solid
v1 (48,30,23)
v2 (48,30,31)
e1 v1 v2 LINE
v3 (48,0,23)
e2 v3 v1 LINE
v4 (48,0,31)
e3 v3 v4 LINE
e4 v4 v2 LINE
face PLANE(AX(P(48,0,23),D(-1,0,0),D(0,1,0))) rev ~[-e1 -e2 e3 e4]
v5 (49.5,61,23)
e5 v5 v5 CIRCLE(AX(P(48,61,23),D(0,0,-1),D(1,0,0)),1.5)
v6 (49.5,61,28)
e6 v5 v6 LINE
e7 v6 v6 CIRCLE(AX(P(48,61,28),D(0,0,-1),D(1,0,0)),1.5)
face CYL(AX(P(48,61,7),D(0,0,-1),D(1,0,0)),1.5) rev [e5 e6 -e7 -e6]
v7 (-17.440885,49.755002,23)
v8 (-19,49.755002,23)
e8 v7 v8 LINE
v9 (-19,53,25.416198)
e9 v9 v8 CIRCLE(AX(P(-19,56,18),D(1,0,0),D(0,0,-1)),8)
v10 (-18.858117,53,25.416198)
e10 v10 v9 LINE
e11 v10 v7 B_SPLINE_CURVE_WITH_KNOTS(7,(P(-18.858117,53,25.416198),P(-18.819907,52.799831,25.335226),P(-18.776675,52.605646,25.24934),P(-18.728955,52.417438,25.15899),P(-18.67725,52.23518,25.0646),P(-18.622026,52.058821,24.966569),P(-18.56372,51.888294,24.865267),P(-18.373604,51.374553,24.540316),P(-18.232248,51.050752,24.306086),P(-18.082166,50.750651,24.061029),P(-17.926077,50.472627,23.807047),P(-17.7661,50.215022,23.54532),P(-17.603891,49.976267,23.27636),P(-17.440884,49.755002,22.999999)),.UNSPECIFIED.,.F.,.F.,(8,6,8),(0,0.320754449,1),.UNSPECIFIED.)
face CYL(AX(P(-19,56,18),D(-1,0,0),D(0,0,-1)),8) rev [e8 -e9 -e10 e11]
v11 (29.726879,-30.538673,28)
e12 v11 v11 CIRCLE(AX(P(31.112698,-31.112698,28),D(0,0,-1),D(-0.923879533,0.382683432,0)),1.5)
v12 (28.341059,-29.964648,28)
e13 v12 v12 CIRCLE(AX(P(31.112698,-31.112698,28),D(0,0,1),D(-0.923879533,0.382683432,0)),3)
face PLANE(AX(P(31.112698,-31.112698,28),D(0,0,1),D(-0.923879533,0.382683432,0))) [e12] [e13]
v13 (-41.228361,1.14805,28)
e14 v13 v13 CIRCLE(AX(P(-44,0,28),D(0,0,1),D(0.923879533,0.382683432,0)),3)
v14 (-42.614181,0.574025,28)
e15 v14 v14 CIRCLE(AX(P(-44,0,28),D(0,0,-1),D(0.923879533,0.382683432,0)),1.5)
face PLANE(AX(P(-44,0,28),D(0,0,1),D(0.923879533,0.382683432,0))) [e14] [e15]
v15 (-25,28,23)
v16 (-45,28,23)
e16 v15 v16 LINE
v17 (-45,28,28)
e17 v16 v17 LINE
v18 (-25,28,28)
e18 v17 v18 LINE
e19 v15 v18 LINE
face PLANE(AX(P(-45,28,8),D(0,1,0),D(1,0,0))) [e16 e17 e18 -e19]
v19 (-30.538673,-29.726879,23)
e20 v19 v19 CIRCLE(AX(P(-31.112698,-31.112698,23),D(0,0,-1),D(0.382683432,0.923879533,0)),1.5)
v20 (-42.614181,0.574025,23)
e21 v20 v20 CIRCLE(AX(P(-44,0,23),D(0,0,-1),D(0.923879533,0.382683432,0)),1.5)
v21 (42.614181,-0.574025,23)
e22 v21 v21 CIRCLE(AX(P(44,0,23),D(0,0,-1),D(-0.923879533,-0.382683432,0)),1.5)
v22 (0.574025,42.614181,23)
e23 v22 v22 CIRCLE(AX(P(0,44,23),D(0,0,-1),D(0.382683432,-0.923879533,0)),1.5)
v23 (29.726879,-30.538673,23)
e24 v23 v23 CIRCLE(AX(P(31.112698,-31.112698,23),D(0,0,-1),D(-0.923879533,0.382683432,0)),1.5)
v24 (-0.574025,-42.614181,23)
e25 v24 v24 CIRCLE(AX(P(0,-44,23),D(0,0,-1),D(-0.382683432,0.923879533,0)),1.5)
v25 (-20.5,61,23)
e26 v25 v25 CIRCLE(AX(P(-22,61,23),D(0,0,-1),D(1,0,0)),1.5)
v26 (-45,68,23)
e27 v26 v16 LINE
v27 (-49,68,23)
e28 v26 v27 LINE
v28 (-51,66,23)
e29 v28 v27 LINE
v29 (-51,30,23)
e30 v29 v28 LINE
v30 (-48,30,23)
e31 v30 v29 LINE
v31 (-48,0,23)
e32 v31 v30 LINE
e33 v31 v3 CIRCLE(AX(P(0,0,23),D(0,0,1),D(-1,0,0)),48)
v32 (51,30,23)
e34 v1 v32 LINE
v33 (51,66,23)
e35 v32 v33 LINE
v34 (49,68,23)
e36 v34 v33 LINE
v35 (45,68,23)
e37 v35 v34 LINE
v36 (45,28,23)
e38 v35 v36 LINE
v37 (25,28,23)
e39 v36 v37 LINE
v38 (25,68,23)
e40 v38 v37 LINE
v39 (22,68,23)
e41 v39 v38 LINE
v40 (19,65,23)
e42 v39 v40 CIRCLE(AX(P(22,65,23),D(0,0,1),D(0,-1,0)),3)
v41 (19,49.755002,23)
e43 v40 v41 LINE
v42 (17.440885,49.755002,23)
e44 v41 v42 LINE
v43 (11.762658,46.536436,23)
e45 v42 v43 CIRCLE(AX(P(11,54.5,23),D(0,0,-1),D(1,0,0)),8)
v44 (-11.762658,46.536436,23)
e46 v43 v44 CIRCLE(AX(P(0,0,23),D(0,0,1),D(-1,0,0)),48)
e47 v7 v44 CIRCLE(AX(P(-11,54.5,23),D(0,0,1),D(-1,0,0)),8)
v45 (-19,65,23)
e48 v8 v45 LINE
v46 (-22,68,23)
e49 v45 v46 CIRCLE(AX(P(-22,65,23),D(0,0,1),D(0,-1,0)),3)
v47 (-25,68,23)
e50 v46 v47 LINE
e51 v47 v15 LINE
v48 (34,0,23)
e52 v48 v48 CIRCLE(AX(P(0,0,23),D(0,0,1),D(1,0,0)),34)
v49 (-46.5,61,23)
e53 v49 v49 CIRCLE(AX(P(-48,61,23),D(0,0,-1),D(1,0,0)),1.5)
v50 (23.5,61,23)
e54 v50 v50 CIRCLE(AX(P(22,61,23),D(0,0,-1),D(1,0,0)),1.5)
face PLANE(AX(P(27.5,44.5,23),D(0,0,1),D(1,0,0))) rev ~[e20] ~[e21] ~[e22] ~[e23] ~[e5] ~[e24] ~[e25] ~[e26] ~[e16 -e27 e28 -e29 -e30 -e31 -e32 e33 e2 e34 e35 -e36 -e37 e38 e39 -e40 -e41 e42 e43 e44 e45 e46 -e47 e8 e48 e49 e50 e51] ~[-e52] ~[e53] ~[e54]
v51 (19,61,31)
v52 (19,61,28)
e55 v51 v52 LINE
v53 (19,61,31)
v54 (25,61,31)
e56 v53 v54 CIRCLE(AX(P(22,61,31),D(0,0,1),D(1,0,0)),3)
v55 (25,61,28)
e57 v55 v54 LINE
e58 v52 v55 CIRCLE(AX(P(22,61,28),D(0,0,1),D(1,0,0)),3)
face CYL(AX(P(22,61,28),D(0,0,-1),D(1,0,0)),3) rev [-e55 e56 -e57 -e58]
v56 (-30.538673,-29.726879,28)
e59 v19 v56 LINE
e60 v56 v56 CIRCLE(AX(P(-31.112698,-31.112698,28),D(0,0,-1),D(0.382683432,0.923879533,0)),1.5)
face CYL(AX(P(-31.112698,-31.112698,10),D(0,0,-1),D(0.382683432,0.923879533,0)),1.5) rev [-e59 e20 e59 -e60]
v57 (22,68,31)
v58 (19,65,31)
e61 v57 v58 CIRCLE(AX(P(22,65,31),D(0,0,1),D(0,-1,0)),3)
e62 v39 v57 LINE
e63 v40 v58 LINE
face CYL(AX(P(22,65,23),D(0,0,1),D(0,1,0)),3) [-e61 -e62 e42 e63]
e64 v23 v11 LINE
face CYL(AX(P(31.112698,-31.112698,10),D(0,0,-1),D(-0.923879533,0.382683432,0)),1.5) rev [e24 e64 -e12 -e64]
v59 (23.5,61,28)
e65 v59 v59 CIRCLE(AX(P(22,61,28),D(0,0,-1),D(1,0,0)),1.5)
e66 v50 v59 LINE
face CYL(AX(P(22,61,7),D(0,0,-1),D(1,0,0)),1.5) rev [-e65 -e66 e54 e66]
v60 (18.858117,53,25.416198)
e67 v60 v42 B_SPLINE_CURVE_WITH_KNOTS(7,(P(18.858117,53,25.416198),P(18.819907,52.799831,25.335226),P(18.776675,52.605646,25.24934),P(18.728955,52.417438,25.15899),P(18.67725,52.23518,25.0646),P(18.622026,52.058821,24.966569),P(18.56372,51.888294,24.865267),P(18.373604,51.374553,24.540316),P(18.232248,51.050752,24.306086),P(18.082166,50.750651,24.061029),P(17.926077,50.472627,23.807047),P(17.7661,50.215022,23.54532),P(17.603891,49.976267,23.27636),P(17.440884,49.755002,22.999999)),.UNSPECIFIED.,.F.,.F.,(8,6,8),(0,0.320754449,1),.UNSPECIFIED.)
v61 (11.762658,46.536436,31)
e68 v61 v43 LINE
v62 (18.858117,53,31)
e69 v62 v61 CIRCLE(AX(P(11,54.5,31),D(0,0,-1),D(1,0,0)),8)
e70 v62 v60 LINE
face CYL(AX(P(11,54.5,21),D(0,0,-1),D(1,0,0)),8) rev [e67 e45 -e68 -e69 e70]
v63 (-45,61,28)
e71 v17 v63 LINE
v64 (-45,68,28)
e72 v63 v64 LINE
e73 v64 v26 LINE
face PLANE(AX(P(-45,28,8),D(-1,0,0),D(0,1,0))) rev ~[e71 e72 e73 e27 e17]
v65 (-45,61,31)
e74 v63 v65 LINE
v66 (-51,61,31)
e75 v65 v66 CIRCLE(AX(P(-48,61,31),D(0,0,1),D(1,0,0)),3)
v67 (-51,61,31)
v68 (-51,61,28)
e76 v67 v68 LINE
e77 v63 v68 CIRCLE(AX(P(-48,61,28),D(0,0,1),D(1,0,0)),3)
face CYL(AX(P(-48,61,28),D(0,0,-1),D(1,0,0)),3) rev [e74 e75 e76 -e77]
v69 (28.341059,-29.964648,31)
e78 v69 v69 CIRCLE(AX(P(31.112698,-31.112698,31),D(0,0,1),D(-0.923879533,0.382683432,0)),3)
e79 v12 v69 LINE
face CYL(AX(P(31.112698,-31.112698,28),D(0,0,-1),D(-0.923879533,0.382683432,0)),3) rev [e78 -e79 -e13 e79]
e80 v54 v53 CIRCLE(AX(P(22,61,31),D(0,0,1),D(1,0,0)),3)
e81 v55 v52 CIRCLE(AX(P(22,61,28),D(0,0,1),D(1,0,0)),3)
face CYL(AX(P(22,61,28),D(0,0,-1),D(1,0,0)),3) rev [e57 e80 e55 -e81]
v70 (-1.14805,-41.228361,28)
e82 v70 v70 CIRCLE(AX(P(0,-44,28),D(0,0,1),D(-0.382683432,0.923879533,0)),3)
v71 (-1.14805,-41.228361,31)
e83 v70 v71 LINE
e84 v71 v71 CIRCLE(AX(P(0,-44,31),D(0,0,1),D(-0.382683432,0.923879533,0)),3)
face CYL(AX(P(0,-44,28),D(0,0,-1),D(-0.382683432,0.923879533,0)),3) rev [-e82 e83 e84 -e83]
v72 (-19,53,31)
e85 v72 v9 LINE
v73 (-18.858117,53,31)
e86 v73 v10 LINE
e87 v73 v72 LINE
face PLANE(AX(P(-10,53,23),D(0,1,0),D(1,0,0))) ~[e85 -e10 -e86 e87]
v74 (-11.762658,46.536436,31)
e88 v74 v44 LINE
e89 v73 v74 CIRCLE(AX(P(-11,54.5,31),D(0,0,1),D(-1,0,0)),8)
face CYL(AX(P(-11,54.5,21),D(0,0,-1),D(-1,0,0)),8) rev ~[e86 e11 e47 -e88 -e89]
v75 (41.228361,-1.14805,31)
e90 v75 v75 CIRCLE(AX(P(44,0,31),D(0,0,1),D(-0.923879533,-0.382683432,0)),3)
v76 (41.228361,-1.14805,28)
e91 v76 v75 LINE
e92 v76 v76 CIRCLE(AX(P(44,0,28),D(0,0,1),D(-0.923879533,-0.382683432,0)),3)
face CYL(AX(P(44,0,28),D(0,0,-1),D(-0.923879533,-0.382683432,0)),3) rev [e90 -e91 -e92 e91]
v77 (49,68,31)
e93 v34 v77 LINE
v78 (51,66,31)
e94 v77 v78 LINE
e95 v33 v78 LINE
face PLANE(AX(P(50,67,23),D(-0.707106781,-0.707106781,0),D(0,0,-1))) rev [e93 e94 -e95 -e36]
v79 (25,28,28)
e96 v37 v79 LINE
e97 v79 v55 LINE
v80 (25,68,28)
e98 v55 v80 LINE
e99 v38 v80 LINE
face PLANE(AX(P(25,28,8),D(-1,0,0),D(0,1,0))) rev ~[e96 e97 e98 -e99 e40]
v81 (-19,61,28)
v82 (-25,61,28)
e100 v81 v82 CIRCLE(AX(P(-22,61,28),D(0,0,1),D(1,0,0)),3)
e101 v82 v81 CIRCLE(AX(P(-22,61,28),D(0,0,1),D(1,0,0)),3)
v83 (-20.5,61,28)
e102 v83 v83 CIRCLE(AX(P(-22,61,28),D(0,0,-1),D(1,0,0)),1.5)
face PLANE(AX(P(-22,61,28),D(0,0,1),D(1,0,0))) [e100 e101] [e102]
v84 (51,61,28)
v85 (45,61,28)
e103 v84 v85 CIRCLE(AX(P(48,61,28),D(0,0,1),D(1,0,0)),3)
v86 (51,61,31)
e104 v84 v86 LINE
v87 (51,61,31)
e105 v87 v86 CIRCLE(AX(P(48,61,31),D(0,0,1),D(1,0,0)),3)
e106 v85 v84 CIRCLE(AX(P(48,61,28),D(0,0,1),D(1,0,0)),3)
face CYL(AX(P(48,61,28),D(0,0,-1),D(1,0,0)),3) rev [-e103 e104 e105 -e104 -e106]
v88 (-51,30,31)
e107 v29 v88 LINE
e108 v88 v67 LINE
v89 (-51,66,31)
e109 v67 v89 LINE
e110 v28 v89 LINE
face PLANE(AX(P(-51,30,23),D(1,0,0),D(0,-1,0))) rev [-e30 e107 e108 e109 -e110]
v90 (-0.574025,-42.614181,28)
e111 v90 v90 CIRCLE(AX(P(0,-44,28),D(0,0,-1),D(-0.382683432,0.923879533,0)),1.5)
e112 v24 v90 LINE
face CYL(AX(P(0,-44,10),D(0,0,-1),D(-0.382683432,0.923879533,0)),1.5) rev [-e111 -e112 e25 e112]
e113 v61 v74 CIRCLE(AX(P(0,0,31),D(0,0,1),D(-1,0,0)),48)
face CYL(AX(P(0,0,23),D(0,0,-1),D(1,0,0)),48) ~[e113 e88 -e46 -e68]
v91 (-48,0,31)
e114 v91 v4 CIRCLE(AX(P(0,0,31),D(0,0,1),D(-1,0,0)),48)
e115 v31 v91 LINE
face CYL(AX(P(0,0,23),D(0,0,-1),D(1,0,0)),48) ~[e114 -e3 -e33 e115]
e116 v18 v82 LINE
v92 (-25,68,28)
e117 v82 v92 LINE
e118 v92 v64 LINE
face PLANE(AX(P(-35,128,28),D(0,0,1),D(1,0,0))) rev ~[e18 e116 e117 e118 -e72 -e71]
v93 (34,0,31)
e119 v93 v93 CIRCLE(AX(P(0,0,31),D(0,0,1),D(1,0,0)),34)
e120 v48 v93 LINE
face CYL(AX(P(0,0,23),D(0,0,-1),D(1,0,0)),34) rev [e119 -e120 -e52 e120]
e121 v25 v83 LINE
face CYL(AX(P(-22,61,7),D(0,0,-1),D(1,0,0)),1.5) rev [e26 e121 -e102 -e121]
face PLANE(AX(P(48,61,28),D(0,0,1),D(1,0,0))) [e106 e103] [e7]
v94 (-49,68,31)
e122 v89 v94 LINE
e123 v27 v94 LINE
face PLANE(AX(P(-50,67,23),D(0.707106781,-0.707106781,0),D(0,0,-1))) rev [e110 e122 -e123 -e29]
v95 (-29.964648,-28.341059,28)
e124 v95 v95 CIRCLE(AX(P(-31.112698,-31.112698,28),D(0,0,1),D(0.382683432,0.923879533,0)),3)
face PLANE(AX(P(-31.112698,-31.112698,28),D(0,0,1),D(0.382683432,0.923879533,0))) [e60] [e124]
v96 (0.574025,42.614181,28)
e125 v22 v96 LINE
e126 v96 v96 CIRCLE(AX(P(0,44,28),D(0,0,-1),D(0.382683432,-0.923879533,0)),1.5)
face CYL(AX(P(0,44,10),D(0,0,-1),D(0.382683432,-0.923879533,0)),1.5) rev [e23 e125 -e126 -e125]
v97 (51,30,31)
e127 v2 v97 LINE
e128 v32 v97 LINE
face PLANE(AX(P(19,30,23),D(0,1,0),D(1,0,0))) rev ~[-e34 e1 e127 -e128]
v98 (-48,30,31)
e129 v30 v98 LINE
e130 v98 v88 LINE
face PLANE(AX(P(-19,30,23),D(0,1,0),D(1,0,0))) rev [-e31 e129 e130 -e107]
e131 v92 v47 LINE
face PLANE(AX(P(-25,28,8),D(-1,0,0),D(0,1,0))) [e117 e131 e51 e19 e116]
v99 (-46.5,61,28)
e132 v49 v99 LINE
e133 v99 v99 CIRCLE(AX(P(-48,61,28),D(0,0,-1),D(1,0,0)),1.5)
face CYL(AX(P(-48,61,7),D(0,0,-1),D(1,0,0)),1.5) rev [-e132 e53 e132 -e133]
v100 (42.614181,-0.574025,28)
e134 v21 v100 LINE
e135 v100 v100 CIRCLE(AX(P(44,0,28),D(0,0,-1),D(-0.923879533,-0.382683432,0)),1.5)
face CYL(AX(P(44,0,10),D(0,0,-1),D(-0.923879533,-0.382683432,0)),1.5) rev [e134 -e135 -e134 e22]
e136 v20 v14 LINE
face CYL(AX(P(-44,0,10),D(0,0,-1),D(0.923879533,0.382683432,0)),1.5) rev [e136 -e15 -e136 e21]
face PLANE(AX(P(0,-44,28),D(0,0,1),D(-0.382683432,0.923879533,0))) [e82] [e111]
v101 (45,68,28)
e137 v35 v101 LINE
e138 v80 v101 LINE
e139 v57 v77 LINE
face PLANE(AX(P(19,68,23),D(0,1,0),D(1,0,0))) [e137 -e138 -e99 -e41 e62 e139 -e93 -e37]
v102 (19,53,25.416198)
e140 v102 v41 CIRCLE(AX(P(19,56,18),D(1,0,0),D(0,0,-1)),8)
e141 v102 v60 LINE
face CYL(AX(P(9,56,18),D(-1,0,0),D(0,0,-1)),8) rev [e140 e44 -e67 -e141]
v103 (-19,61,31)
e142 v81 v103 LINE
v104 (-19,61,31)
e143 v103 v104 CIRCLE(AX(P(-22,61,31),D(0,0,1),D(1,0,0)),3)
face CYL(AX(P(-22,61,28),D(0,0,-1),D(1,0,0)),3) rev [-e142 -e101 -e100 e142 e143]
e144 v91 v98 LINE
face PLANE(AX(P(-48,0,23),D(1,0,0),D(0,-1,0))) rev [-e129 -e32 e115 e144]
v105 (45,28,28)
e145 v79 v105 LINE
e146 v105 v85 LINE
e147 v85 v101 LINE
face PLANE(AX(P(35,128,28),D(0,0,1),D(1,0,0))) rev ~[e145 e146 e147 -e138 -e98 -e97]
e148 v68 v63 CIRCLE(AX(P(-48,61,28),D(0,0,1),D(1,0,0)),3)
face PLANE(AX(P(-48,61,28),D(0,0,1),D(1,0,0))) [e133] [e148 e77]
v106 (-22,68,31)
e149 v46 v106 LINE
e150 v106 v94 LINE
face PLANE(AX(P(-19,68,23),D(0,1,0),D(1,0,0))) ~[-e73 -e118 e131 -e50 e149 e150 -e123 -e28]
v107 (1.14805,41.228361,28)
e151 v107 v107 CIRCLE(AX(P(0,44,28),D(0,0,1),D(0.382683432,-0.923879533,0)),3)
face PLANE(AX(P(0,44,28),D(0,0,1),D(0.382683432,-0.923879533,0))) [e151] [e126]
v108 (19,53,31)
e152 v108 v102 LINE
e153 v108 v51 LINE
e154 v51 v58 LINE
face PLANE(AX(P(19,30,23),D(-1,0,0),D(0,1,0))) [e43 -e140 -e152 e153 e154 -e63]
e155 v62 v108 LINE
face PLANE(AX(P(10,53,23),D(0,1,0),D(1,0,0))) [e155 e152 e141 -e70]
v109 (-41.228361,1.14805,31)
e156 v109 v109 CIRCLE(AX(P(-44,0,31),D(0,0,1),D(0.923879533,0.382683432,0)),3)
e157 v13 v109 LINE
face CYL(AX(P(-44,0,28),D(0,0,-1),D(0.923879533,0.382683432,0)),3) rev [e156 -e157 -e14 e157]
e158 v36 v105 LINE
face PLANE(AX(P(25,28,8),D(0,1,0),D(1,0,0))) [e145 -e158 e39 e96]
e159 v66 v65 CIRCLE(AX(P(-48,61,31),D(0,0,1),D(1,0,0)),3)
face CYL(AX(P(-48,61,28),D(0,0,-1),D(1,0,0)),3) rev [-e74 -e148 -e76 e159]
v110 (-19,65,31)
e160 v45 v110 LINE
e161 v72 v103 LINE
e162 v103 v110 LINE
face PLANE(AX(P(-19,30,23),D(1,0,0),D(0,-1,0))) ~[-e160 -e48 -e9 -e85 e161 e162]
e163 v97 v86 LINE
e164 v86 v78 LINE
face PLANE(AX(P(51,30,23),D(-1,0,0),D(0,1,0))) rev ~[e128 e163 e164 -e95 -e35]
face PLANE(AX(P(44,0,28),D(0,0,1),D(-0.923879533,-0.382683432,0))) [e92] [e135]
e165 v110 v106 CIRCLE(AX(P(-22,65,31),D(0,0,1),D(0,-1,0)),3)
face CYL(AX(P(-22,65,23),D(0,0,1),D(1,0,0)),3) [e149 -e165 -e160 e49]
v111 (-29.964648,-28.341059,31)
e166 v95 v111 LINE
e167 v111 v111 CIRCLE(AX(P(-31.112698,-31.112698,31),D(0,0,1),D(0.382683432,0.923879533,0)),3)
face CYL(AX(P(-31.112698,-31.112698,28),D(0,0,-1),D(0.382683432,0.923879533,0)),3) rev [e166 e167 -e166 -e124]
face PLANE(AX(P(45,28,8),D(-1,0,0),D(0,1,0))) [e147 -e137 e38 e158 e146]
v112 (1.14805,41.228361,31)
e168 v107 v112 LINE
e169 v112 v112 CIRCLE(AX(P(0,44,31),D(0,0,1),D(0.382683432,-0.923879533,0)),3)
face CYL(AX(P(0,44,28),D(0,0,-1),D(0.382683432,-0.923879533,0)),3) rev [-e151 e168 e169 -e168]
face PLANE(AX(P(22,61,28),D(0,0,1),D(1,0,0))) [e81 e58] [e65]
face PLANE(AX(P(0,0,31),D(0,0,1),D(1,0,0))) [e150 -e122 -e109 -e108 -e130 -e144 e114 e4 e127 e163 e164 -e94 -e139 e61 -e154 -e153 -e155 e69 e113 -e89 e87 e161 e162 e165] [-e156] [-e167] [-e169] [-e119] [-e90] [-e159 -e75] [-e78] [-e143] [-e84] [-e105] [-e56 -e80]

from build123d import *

# Parameters (mm, degrees)
CYLINDER642_R               = 1.5
CYLINDER642_DEPTH           = 30
CYLINDER642_PLACEMENT_ANGLE = 157.5
CYLINDER641_R               = 1.5
CYLINDER641_DEPTH           = 30
CYLINDER641_PLACEMENT_ANGLE = 67.5
CYLINDER688_R               = 3
CYLINDER688_DEPTH           = 3
CYLINDER689_R               = 3
CYLINDER689_DEPTH           = 3
CYLINDER640_R               = 3
CYLINDER640_DEPTH           = 3
CYLINDER637_R               = 3
CYLINDER637_DEPTH           = 3
CYLINDER644_R               = 3
CYLINDER644_DEPTH           = 3
CYLINDER644_PLACEMENT_ANGLE = 157.5
CYLINDER643_R               = 3
CYLINDER643_DEPTH           = 3
CYLINDER643_PLACEMENT_ANGLE = 67.5
CYLINDER634_R               = 3
CYLINDER634_DEPTH           = 3
CYLINDER634_PLACEMENT_ANGLE = 22.5
CYLINDER635_R               = 3
CYLINDER635_DEPTH           = 3
CYLINDER635_PLACEMENT_ANGLE = 112.5
CYLINDER636_R               = 3
CYLINDER636_DEPTH           = 3
CYLINDER636_PLACEMENT_ANGLE = 202.5
CYLINDER687_R               = 3
CYLINDER687_DEPTH           = 3
CYLINDER687_PLACEMENT_ANGLE = 67.5
CYLINDER686_R               = 8
CYLINDER686_DEPTH           = 10
CYLINDER685_R               = 8
CYLINDER685_DEPTH           = 10
CYLINDER622_R               = 1.5
CYLINDER622_DEPTH           = 30
CYLINDER684_R               = 1.5
CYLINDER684_DEPTH           = 30
CYLINDER624_R               = 1.5
CYLINDER624_DEPTH           = 30
CYLINDER621_R               = 1.5
CYLINDER621_DEPTH           = 30
BOX326_W                    = 6
BOX326_H                    = 6
BOX326_DEPTH                = 2
BOX327_W                    = 6
BOX327_H                    = 6
BOX327_DEPTH                = 2
BOX328_W                    = 6
BOX328_H                    = 6
BOX328_DEPTH                = 2
BOX325_W                    = 6
BOX325_H                    = 6
BOX325_DEPTH                = 2
CYLINDER618_R               = 1.5
CYLINDER618_DEPTH           = 30
CYLINDER618_PLACEMENT_ANGLE = 22.5
CYLINDER619_R               = 1.5
CYLINDER619_DEPTH           = 30
CYLINDER619_PLACEMENT_ANGLE = 112.5
CYLINDER620_R               = 1.5
CYLINDER620_DEPTH           = 30
CYLINDER620_PLACEMENT_ANGLE = 202.5
CYLINDER617_R               = 1.5
CYLINDER617_DEPTH           = 30
CYLINDER617_PLACEMENT_ANGLE = 67.5
BOX322_W                    = 6
BOX322_H                    = 8
BOX322_DEPTH                = 2
BOX323_W                    = 6
BOX323_H                    = 8
BOX323_DEPTH                = 2
BOX324_W                    = 6
BOX324_H                    = 8
BOX324_DEPTH                = 2
BOX321_W                    = 6
BOX321_H                    = 8
BOX321_DEPTH                = 2
CYLINDER615_R               = 2.5
CYLINDER615_DEPTH           = 30
CYLINDER616_R               = 2.5
CYLINDER616_DEPTH           = 30
CYLINDER614_R               = 2.5
CYLINDER614_DEPTH           = 150
BOX313_W                    = 20
BOX313_H                    = 200
BOX313_DEPTH                = 20
BOX317_W                    = 20
BOX317_H                    = 200
BOX317_DEPTH                = 20
BOX316_W                    = 11
BOX316_H                    = 38
BOX316_DEPTH                = 8
CYLINDER612_R               = 8
CYLINDER612_DEPTH           = 20
BOX315_W                    = 35
BOX315_H                    = 17
BOX315_DEPTH                = 8
BOX314_W                    = 32
BOX314_H                    = 38
BOX314_DEPTH                = 8
BOX320_W                    = 11
BOX320_H                    = 36
BOX320_DEPTH                = 8
CYLINDER613_R               = 8
CYLINDER613_DEPTH           = 20
BOX319_W                    = 35
BOX319_H                    = 17
BOX319_DEPTH                = 8
BOX318_W                    = 32
BOX318_H                    = 38
BOX318_DEPTH                = 8
TUBE063_R                   = 48
TUBE063_R_2                 = 34
TUBE063_DEPTH               = 8
CHAMFER036_SIZE             = 2
FILLET008_R                 = 3


with BuildPart() as v_lec642:
    # Cylinder642 → Cylinder642 (new body)
    with BuildSketch(Plane.XY):
        Circle(CYLINDER642_R)
    extrude(amount=CYLINDER642_DEPTH)


with BuildPart() as v_lec642_1:
    # Cylinder642 placement: moved
    add(v_lec642.part.moved(Location((31.112698, -31.112698, 10))).rotate(Axis((31.112698, -31.112698, 10), (0, 0, 1)), CYLINDER642_PLACEMENT_ANGLE))


with BuildPart() as compound673:
    # Cylinder641 → Cylinder641 (new body)
    with BuildSketch(Plane.XY):
        Circle(CYLINDER641_R)
    extrude(amount=CYLINDER641_DEPTH)


with BuildPart() as compound673_1:
    # Cylinder641 placement: moved
    add(compound673.part.moved(Location((-31.112698, -31.112698, 10))).rotate(Axis((-31.112698, -31.112698, 10), (0, 0, 1)), CYLINDER641_PLACEMENT_ANGLE))

    # Compound673: union Válec642
    add(v_lec642_1.part)


with BuildPart() as v_lec688:
    # Cylinder688 → Cylinder688 (new body)
    with BuildSketch(Plane(origin=(-22, 61, 0), x_dir=(1, 0, 0), z_dir=(0, 0, 1))):
        Circle(CYLINDER688_R)
    extrude(amount=CYLINDER688_DEPTH)


with BuildPart() as v_lec689:
    # Cylinder689 → Cylinder689 (new body)
    with BuildSketch(Plane(origin=(48, 61, 0), x_dir=(1, 0, 0), z_dir=(0, 0, 1))):
        Circle(CYLINDER689_R)
    extrude(amount=CYLINDER689_DEPTH)


with BuildPart() as v_lec640:
    # Cylinder640 → Cylinder640 (new body)
    with BuildSketch(Plane(origin=(22, 61, 0), x_dir=(1, 0, 0), z_dir=(0, 0, 1))):
        Circle(CYLINDER640_R)
    extrude(amount=CYLINDER640_DEPTH)


with BuildPart() as compound672:
    # Cylinder637 → Cylinder637 (new body)
    with BuildSketch(Plane(origin=(-48, 61, 0), x_dir=(1, 0, 0), z_dir=(0, 0, 1))):
        Circle(CYLINDER637_R)
    extrude(amount=CYLINDER637_DEPTH)

    # Compound672: union Válec688, Válec689, Válec640
    add(v_lec688.part)
    add(v_lec689.part)
    add(v_lec640.part)


with BuildPart() as compound672_1:
    # Compound672 placement: moved
    add(compound672.part.moved(Location((0, 0, 28))))


with BuildPart() as v_lec644:
    # Cylinder644 → Cylinder644 (new body)
    with BuildSketch(Plane.XY):
        Circle(CYLINDER644_R)
    extrude(amount=CYLINDER644_DEPTH)


with BuildPart() as v_lec644_1:
    # Cylinder644 placement: moved
    add(v_lec644.part.moved(Location((31.112698, -31.112698, 10))).rotate(Axis((31.112698, -31.112698, 10), (0, 0, 1)), CYLINDER644_PLACEMENT_ANGLE))


with BuildPart() as compound674:
    # Cylinder643 → Cylinder643 (new body)
    with BuildSketch(Plane.XY):
        Circle(CYLINDER643_R)
    extrude(amount=CYLINDER643_DEPTH)


with BuildPart() as compound674_1:
    # Cylinder643 placement: moved
    add(compound674.part.moved(Location((-31.112698, -31.112698, 10))).rotate(Axis((-31.112698, -31.112698, 10), (0, 0, 1)), CYLINDER643_PLACEMENT_ANGLE))

    # Compound674: union Válec644
    add(v_lec644_1.part)


with BuildPart() as compound674_2:
    # Compound674 placement: moved
    add(compound674_1.part.moved(Location((0, 0, 18))))


with BuildPart() as v_lec634:
    # Cylinder634 → Cylinder634 (new body)
    with BuildSketch(Plane.XY):
        Circle(CYLINDER634_R)
    extrude(amount=CYLINDER634_DEPTH)


with BuildPart() as v_lec634_1:
    # Cylinder634 placement: moved
    add(v_lec634.part.moved(Location((-44, 0, 10))).rotate(Axis((-44, 0, 10), (0, 0, 1)), CYLINDER634_PLACEMENT_ANGLE))


with BuildPart() as v_lec635:
    # Cylinder635 → Cylinder635 (new body)
    with BuildSketch(Plane.XY):
        Circle(CYLINDER635_R)
    extrude(amount=CYLINDER635_DEPTH)


with BuildPart() as v_lec635_1:
    # Cylinder635 placement: moved
    add(v_lec635.part.moved(Location((0, -44, 10))).rotate(Axis((0, -44, 10), (0, 0, 1)), CYLINDER635_PLACEMENT_ANGLE))


with BuildPart() as v_lec636:
    # Cylinder636 → Cylinder636 (new body)
    with BuildSketch(Plane.XY):
        Circle(CYLINDER636_R)
    extrude(amount=CYLINDER636_DEPTH)


with BuildPart() as v_lec636_1:
    # Cylinder636 placement: moved
    add(v_lec636.part.moved(Location((44, 0, 10))).rotate(Axis((44, 0, 10), (0, 0, 1)), CYLINDER636_PLACEMENT_ANGLE))


with BuildPart() as compound671:
    # Cylinder687 → Cylinder687 (new body)
    with BuildSketch(Plane.XY):
        Circle(CYLINDER687_R)
    extrude(amount=CYLINDER687_DEPTH)


with BuildPart() as compound671_1:
    # Cylinder687 placement: moved
    add(compound671.part.moved(Location((0, 44, 10))).rotate(Axis((0, 44, 10), (0, 0, -1)), CYLINDER687_PLACEMENT_ANGLE))

    # Compound671: union Válec634, Válec635, Válec636
    add(v_lec634_1.part)
    add(v_lec635_1.part)
    add(v_lec636_1.part)


with BuildPart() as compound671_2:
    # Compound671 placement: moved
    add(compound671_1.part.moved(Location((0, 0, 18))))


with BuildPart() as v_lec686:
    # Cylinder686 → Cylinder686 (new body)
    with BuildSketch(Plane(origin=(9, 56, 18), x_dir=(0, 0, -1), z_dir=(1, 0, 0))):
        Circle(CYLINDER686_R)
    extrude(amount=CYLINDER686_DEPTH)


with BuildPart() as compound670:
    # Cylinder685 → Cylinder685 (new body)
    with BuildSketch(Plane(origin=(-19, 56, 18), x_dir=(0, 0, -1), z_dir=(1, 0, 0))):
        Circle(CYLINDER685_R)
    extrude(amount=CYLINDER685_DEPTH)

    # Compound670: union Válec686
    add(v_lec686.part)


with BuildPart() as v_lec622:
    # Cylinder622 → Cylinder622 (new body)
    with BuildSketch(Plane(origin=(-22, 61, 0), x_dir=(1, 0, 0), z_dir=(0, 0, 1))):
        Circle(CYLINDER622_R)
    extrude(amount=CYLINDER622_DEPTH)


with BuildPart() as v_lec684:
    # Cylinder684 → Cylinder684 (new body)
    with BuildSketch(Plane(origin=(48, 61, 0), x_dir=(1, 0, 0), z_dir=(0, 0, 1))):
        Circle(CYLINDER684_R)
    extrude(amount=CYLINDER684_DEPTH)


with BuildPart() as v_lec624:
    # Cylinder624 → Cylinder624 (new body)
    with BuildSketch(Plane(origin=(22, 61, 0), x_dir=(1, 0, 0), z_dir=(0, 0, 1))):
        Circle(CYLINDER624_R)
    extrude(amount=CYLINDER624_DEPTH)


with BuildPart() as compound659:
    # Cylinder621 → Cylinder621 (new body)
    with BuildSketch(Plane(origin=(-48, 61, 0), x_dir=(1, 0, 0), z_dir=(0, 0, 1))):
        Circle(CYLINDER621_R)
    extrude(amount=CYLINDER621_DEPTH)

    # Compound659: union Válec622, Válec684, Válec624
    add(v_lec622.part)
    add(v_lec684.part)
    add(v_lec624.part)


with BuildPart() as compound659_1:
    # Compound659 placement: moved
    add(compound659.part.moved(Location((0, 0, 7))))


with BuildPart() as krychle326:
    # Box326 → Box326 (new body)
    with BuildSketch(Plane(origin=(-25, 58, 12), x_dir=(1, 0, 0), z_dir=(0, 0, 1))):
        with Locations((3, 3)):
            Rectangle(BOX326_W, BOX326_H)
    extrude(amount=BOX326_DEPTH)


with BuildPart() as krychle327:
    # Box327 → Box327 (new body)
    with BuildSketch(Plane(origin=(45, 58, 12), x_dir=(1, 0, 0), z_dir=(0, 0, 1))):
        with Locations((3, 3)):
            Rectangle(BOX327_W, BOX327_H)
    extrude(amount=BOX327_DEPTH)


with BuildPart() as krychle328:
    # Box328 → Box328 (new body)
    with BuildSketch(Plane(origin=(19, 58, 12), x_dir=(1, 0, 0), z_dir=(0, 0, 1))):
        with Locations((3, 3)):
            Rectangle(BOX328_W, BOX328_H)
    extrude(amount=BOX328_DEPTH)


with BuildPart() as compound669:
    # Box325 → Box325 (new body)
    with BuildSketch(Plane(origin=(-51, 58, 12), x_dir=(1, 0, 0), z_dir=(0, 0, 1))):
        with Locations((3, 3)):
            Rectangle(BOX325_W, BOX325_H)
    extrude(amount=BOX325_DEPTH)

    # Compound669: union Krychle326, Krychle327, Krychle328
    add(krychle326.part)
    add(krychle327.part)
    add(krychle328.part)


with BuildPart() as v_lec618:
    # Cylinder618 → Cylinder618 (new body)
    with BuildSketch(Plane.XY):
        Circle(CYLINDER618_R)
    extrude(amount=CYLINDER618_DEPTH)


with BuildPart() as v_lec618_1:
    # Cylinder618 placement: moved
    add(v_lec618.part.moved(Location((-44, 0, 10))).rotate(Axis((-44, 0, 10), (0, 0, 1)), CYLINDER618_PLACEMENT_ANGLE))


with BuildPart() as v_lec619:
    # Cylinder619 → Cylinder619 (new body)
    with BuildSketch(Plane.XY):
        Circle(CYLINDER619_R)
    extrude(amount=CYLINDER619_DEPTH)


with BuildPart() as v_lec619_1:
    # Cylinder619 placement: moved
    add(v_lec619.part.moved(Location((0, -44, 10))).rotate(Axis((0, -44, 10), (0, 0, 1)), CYLINDER619_PLACEMENT_ANGLE))


with BuildPart() as v_lec620:
    # Cylinder620 → Cylinder620 (new body)
    with BuildSketch(Plane.XY):
        Circle(CYLINDER620_R)
    extrude(amount=CYLINDER620_DEPTH)


with BuildPart() as v_lec620_1:
    # Cylinder620 placement: moved
    add(v_lec620.part.moved(Location((44, 0, 10))).rotate(Axis((44, 0, 10), (0, 0, 1)), CYLINDER620_PLACEMENT_ANGLE))


with BuildPart() as compound658:
    # Cylinder617 → Cylinder617 (new body)
    with BuildSketch(Plane.XY):
        Circle(CYLINDER617_R)
    extrude(amount=CYLINDER617_DEPTH)


with BuildPart() as compound658_1:
    # Cylinder617 placement: moved
    add(compound658.part.moved(Location((0, 44, 10))).rotate(Axis((0, 44, 10), (0, 0, -1)), CYLINDER617_PLACEMENT_ANGLE))

    # Compound658: union Válec618, Válec619, Válec620
    add(v_lec618_1.part)
    add(v_lec619_1.part)
    add(v_lec620_1.part)


with BuildPart() as krychle322:
    # Box322 → Box322 (new body)
    with BuildSketch(Plane(origin=(-41, -3, 16), x_dir=(0, 1, 0), z_dir=(0, 0, 1))):
        with Locations((3, 4)):
            Rectangle(BOX322_W, BOX322_H)
    extrude(amount=BOX322_DEPTH)


with BuildPart() as krychle323:
    # Box323 → Box323 (new body)
    with BuildSketch(Plane(origin=(3, -41, 16), x_dir=(-1, 0, 0), z_dir=(0, 0, 1))):
        with Locations((3, 4)):
            Rectangle(BOX323_W, BOX323_H)
    extrude(amount=BOX323_DEPTH)


with BuildPart() as krychle324:
    # Box324 → Box324 (new body)
    with BuildSketch(Plane(origin=(41, 3, 16), x_dir=(0, -1, 0), z_dir=(0, 0, 1))):
        with Locations((3, 4)):
            Rectangle(BOX324_W, BOX324_H)
    extrude(amount=BOX324_DEPTH)


with BuildPart() as compound657:
    # Box321 → Box321 (new body)
    with BuildSketch(Plane(origin=(-3, 41, 16), x_dir=(1, 0, 0), z_dir=(0, 0, 1))):
        with Locations((3, 4)):
            Rectangle(BOX321_W, BOX321_H)
    extrude(amount=BOX321_DEPTH)

    # Compound657: union Krychle322, Krychle323, Krychle324
    add(krychle322.part)
    add(krychle323.part)
    add(krychle324.part)


with BuildPart() as v_lec615:
    # Cylinder615 → Cylinder615 (new body)
    with BuildSketch(Plane(origin=(-57, 38, 18), x_dir=(0, 0, -1), z_dir=(1, 0, 0))):
        Circle(CYLINDER615_R)
    extrude(amount=CYLINDER615_DEPTH)


with BuildPart() as v_lec616:
    # Cylinder616 → Cylinder616 (new body)
    with BuildSketch(Plane(origin=(28, 38, 18), x_dir=(0, 0, -1), z_dir=(1, 0, 0))):
        Circle(CYLINDER616_R)
    extrude(amount=CYLINDER616_DEPTH)


with BuildPart() as compound656:
    # Cylinder614 → Cylinder614 (new body)
    with BuildSketch(Plane(origin=(-57, 56, 18), x_dir=(0, 0, -1), z_dir=(1, 0, 0))):
        Circle(CYLINDER614_R)
    extrude(amount=CYLINDER614_DEPTH)

    # Compound656: union Válec615, Válec616
    add(v_lec615.part)
    add(v_lec616.part)


with BuildPart() as krychle313:
    # Box313 → Box313 (new body)
    with BuildSketch(Plane(origin=(-45, 28, 8), x_dir=(1, 0, 0), z_dir=(0, 0, 1))):
        with Locations((10, 100)):
            Rectangle(BOX313_W, BOX313_H)
    extrude(amount=BOX313_DEPTH)


with BuildPart() as compound655:
    # Box317 → Box317 (new body)
    with BuildSketch(Plane(origin=(25, 28, 8), x_dir=(1, 0, 0), z_dir=(0, 0, 1))):
        with Locations((10, 100)):
            Rectangle(BOX317_W, BOX317_H)
    extrude(amount=BOX317_DEPTH)

    # Compound655: union Krychle313
    add(krychle313.part)


with BuildPart() as krychle316:
    # Box316 → Box316 (new body)
    with BuildSketch(Plane(origin=(37, 0, 5), x_dir=(1, 0, 0), z_dir=(0, 0, 1))):
        with Locations((5.5, 19)):
            Rectangle(BOX316_W, BOX316_H)
    extrude(amount=BOX316_DEPTH)


with BuildPart() as v_lec612:
    # Cylinder612 → Cylinder612 (new body)
    with BuildSketch(Plane(origin=(11, 54.5, 3), x_dir=(1, 0, 0), z_dir=(0, 0, 1))):
        Circle(CYLINDER612_R)
    extrude(amount=CYLINDER612_DEPTH)


with BuildPart() as cut280:
    # Box315 → Box315 (new body)
    with BuildSketch(Plane(origin=(10, 36, 5), x_dir=(1, 0, 0), z_dir=(0, 0, 1))):
        with Locations((17.5, 8.5)):
            Rectangle(BOX315_W, BOX315_H)
    extrude(amount=BOX315_DEPTH)

    # Cut280: cut Válec612
    add(v_lec612.part, mode=Mode.SUBTRACT)


with BuildPart() as fusion015:
    # Box314 → Box314 (new body)
    with BuildSketch(Plane(origin=(19, 30, 5), x_dir=(1, 0, 0), z_dir=(0, 0, 1))):
        with Locations((16, 19)):
            Rectangle(BOX314_W, BOX314_H)
    extrude(amount=BOX314_DEPTH)

    # Fusion015: union Krychle316, Cut280
    add(krychle316.part)
    add(cut280.part)


with BuildPart() as fusion015_1:
    # Fusion015 placement: moved
    add(fusion015.part.moved(Location((0, 0, 18))))


with BuildPart() as mirror005:
    # mirror005: instance of Fusion015
    add(fusion015_1.part.mirror(Plane(origin=(0, 0, 0), x_dir=(0, -1, 0), z_dir=(1, 0, 0))))


with BuildPart() as krychle320:
    # Box320 → Box320 (new body)
    with BuildSketch(Plane(origin=(37, 0, 5), x_dir=(1, 0, 0), z_dir=(0, 0, 1))):
        with Locations((5.5, 18)):
            Rectangle(BOX320_W, BOX320_H)
    extrude(amount=BOX320_DEPTH)


with BuildPart() as v_lec613:
    # Cylinder613 → Cylinder613 (new body)
    with BuildSketch(Plane(origin=(11, 54.5, 3), x_dir=(1, 0, 0), z_dir=(0, 0, 1))):
        Circle(CYLINDER613_R)
    extrude(amount=CYLINDER613_DEPTH)


with BuildPart() as cut281:
    # Box319 → Box319 (new body)
    with BuildSketch(Plane(origin=(10, 36, 5), x_dir=(1, 0, 0), z_dir=(0, 0, 1))):
        with Locations((17.5, 8.5)):
            Rectangle(BOX319_W, BOX319_H)
    extrude(amount=BOX319_DEPTH)

    # Cut281: cut Válec613
    add(v_lec613.part, mode=Mode.SUBTRACT)


with BuildPart() as fusion016:
    # Box318 → Box318 (new body)
    with BuildSketch(Plane(origin=(19, 30, 5), x_dir=(1, 0, 0), z_dir=(0, 0, 1))):
        with Locations((16, 19)):
            Rectangle(BOX318_W, BOX318_H)
    extrude(amount=BOX318_DEPTH)

    # Fusion016: union Krychle320, Cut281
    add(krychle320.part)
    add(cut281.part)


with BuildPart() as fusion016_1:
    # Fusion016 placement: moved
    add(fusion016.part.moved(Location((0, 0, 18))))


with BuildPart() as fillet008:
    # Tube063 → Tube063 (new body)
    with BuildSketch(Plane.XY.offset(23)):
        Circle(TUBE063_R)
        Circle(TUBE063_R_2, mode=Mode.SUBTRACT)
    extrude(amount=TUBE063_DEPTH)

    # Fusion017: union mirror005, Fusion016
    add(mirror005.part)
    add(fusion016_1.part)

    # Cut282: cut Compound655
    add(compound655.part, mode=Mode.SUBTRACT)

    # Cut283: cut Compound656
    add(compound656.part, mode=Mode.SUBTRACT)

    # Cut284: cut Compound657
    add(compound657.part, mode=Mode.SUBTRACT)

    # Cut302: cut Compound658
    add(compound658_1.part, mode=Mode.SUBTRACT)

    # Cut286: cut Compound669
    add(compound669.part, mode=Mode.SUBTRACT)

    # Cut303: cut Compound659
    add(compound659_1.part, mode=Mode.SUBTRACT)

    # Cut288: cut Compound670
    add(compound670.part, mode=Mode.SUBTRACT)

    # Cut289: cut Compound671
    add(compound671_2.part, mode=Mode.SUBTRACT)

    # Cut304: cut Compound674
    add(compound674_2.part, mode=Mode.SUBTRACT)

    # Cut305: cut Compound672
    add(compound672_1.part, mode=Mode.SUBTRACT)

    # Cut306: cut Compound673
    add(compound673_1.part, mode=Mode.SUBTRACT)

    # Chamfer036
    chamfer036_edges = [fillet008.edges().sort_by_distance(p)[0] for p in [
        (-51, 68, 27),
        (51, 68, 27),
    ]]
    chamfer(chamfer036_edges, length=CHAMFER036_SIZE)

    # Fillet008
    fillet008_edges = [fillet008.edges().sort_by_distance(p)[0] for p in [
        (-19, 68, 27),
        (19, 68, 27),
    ]]
    fillet(fillet008_edges, radius=FILLET008_R)


solid = fillet008.part
